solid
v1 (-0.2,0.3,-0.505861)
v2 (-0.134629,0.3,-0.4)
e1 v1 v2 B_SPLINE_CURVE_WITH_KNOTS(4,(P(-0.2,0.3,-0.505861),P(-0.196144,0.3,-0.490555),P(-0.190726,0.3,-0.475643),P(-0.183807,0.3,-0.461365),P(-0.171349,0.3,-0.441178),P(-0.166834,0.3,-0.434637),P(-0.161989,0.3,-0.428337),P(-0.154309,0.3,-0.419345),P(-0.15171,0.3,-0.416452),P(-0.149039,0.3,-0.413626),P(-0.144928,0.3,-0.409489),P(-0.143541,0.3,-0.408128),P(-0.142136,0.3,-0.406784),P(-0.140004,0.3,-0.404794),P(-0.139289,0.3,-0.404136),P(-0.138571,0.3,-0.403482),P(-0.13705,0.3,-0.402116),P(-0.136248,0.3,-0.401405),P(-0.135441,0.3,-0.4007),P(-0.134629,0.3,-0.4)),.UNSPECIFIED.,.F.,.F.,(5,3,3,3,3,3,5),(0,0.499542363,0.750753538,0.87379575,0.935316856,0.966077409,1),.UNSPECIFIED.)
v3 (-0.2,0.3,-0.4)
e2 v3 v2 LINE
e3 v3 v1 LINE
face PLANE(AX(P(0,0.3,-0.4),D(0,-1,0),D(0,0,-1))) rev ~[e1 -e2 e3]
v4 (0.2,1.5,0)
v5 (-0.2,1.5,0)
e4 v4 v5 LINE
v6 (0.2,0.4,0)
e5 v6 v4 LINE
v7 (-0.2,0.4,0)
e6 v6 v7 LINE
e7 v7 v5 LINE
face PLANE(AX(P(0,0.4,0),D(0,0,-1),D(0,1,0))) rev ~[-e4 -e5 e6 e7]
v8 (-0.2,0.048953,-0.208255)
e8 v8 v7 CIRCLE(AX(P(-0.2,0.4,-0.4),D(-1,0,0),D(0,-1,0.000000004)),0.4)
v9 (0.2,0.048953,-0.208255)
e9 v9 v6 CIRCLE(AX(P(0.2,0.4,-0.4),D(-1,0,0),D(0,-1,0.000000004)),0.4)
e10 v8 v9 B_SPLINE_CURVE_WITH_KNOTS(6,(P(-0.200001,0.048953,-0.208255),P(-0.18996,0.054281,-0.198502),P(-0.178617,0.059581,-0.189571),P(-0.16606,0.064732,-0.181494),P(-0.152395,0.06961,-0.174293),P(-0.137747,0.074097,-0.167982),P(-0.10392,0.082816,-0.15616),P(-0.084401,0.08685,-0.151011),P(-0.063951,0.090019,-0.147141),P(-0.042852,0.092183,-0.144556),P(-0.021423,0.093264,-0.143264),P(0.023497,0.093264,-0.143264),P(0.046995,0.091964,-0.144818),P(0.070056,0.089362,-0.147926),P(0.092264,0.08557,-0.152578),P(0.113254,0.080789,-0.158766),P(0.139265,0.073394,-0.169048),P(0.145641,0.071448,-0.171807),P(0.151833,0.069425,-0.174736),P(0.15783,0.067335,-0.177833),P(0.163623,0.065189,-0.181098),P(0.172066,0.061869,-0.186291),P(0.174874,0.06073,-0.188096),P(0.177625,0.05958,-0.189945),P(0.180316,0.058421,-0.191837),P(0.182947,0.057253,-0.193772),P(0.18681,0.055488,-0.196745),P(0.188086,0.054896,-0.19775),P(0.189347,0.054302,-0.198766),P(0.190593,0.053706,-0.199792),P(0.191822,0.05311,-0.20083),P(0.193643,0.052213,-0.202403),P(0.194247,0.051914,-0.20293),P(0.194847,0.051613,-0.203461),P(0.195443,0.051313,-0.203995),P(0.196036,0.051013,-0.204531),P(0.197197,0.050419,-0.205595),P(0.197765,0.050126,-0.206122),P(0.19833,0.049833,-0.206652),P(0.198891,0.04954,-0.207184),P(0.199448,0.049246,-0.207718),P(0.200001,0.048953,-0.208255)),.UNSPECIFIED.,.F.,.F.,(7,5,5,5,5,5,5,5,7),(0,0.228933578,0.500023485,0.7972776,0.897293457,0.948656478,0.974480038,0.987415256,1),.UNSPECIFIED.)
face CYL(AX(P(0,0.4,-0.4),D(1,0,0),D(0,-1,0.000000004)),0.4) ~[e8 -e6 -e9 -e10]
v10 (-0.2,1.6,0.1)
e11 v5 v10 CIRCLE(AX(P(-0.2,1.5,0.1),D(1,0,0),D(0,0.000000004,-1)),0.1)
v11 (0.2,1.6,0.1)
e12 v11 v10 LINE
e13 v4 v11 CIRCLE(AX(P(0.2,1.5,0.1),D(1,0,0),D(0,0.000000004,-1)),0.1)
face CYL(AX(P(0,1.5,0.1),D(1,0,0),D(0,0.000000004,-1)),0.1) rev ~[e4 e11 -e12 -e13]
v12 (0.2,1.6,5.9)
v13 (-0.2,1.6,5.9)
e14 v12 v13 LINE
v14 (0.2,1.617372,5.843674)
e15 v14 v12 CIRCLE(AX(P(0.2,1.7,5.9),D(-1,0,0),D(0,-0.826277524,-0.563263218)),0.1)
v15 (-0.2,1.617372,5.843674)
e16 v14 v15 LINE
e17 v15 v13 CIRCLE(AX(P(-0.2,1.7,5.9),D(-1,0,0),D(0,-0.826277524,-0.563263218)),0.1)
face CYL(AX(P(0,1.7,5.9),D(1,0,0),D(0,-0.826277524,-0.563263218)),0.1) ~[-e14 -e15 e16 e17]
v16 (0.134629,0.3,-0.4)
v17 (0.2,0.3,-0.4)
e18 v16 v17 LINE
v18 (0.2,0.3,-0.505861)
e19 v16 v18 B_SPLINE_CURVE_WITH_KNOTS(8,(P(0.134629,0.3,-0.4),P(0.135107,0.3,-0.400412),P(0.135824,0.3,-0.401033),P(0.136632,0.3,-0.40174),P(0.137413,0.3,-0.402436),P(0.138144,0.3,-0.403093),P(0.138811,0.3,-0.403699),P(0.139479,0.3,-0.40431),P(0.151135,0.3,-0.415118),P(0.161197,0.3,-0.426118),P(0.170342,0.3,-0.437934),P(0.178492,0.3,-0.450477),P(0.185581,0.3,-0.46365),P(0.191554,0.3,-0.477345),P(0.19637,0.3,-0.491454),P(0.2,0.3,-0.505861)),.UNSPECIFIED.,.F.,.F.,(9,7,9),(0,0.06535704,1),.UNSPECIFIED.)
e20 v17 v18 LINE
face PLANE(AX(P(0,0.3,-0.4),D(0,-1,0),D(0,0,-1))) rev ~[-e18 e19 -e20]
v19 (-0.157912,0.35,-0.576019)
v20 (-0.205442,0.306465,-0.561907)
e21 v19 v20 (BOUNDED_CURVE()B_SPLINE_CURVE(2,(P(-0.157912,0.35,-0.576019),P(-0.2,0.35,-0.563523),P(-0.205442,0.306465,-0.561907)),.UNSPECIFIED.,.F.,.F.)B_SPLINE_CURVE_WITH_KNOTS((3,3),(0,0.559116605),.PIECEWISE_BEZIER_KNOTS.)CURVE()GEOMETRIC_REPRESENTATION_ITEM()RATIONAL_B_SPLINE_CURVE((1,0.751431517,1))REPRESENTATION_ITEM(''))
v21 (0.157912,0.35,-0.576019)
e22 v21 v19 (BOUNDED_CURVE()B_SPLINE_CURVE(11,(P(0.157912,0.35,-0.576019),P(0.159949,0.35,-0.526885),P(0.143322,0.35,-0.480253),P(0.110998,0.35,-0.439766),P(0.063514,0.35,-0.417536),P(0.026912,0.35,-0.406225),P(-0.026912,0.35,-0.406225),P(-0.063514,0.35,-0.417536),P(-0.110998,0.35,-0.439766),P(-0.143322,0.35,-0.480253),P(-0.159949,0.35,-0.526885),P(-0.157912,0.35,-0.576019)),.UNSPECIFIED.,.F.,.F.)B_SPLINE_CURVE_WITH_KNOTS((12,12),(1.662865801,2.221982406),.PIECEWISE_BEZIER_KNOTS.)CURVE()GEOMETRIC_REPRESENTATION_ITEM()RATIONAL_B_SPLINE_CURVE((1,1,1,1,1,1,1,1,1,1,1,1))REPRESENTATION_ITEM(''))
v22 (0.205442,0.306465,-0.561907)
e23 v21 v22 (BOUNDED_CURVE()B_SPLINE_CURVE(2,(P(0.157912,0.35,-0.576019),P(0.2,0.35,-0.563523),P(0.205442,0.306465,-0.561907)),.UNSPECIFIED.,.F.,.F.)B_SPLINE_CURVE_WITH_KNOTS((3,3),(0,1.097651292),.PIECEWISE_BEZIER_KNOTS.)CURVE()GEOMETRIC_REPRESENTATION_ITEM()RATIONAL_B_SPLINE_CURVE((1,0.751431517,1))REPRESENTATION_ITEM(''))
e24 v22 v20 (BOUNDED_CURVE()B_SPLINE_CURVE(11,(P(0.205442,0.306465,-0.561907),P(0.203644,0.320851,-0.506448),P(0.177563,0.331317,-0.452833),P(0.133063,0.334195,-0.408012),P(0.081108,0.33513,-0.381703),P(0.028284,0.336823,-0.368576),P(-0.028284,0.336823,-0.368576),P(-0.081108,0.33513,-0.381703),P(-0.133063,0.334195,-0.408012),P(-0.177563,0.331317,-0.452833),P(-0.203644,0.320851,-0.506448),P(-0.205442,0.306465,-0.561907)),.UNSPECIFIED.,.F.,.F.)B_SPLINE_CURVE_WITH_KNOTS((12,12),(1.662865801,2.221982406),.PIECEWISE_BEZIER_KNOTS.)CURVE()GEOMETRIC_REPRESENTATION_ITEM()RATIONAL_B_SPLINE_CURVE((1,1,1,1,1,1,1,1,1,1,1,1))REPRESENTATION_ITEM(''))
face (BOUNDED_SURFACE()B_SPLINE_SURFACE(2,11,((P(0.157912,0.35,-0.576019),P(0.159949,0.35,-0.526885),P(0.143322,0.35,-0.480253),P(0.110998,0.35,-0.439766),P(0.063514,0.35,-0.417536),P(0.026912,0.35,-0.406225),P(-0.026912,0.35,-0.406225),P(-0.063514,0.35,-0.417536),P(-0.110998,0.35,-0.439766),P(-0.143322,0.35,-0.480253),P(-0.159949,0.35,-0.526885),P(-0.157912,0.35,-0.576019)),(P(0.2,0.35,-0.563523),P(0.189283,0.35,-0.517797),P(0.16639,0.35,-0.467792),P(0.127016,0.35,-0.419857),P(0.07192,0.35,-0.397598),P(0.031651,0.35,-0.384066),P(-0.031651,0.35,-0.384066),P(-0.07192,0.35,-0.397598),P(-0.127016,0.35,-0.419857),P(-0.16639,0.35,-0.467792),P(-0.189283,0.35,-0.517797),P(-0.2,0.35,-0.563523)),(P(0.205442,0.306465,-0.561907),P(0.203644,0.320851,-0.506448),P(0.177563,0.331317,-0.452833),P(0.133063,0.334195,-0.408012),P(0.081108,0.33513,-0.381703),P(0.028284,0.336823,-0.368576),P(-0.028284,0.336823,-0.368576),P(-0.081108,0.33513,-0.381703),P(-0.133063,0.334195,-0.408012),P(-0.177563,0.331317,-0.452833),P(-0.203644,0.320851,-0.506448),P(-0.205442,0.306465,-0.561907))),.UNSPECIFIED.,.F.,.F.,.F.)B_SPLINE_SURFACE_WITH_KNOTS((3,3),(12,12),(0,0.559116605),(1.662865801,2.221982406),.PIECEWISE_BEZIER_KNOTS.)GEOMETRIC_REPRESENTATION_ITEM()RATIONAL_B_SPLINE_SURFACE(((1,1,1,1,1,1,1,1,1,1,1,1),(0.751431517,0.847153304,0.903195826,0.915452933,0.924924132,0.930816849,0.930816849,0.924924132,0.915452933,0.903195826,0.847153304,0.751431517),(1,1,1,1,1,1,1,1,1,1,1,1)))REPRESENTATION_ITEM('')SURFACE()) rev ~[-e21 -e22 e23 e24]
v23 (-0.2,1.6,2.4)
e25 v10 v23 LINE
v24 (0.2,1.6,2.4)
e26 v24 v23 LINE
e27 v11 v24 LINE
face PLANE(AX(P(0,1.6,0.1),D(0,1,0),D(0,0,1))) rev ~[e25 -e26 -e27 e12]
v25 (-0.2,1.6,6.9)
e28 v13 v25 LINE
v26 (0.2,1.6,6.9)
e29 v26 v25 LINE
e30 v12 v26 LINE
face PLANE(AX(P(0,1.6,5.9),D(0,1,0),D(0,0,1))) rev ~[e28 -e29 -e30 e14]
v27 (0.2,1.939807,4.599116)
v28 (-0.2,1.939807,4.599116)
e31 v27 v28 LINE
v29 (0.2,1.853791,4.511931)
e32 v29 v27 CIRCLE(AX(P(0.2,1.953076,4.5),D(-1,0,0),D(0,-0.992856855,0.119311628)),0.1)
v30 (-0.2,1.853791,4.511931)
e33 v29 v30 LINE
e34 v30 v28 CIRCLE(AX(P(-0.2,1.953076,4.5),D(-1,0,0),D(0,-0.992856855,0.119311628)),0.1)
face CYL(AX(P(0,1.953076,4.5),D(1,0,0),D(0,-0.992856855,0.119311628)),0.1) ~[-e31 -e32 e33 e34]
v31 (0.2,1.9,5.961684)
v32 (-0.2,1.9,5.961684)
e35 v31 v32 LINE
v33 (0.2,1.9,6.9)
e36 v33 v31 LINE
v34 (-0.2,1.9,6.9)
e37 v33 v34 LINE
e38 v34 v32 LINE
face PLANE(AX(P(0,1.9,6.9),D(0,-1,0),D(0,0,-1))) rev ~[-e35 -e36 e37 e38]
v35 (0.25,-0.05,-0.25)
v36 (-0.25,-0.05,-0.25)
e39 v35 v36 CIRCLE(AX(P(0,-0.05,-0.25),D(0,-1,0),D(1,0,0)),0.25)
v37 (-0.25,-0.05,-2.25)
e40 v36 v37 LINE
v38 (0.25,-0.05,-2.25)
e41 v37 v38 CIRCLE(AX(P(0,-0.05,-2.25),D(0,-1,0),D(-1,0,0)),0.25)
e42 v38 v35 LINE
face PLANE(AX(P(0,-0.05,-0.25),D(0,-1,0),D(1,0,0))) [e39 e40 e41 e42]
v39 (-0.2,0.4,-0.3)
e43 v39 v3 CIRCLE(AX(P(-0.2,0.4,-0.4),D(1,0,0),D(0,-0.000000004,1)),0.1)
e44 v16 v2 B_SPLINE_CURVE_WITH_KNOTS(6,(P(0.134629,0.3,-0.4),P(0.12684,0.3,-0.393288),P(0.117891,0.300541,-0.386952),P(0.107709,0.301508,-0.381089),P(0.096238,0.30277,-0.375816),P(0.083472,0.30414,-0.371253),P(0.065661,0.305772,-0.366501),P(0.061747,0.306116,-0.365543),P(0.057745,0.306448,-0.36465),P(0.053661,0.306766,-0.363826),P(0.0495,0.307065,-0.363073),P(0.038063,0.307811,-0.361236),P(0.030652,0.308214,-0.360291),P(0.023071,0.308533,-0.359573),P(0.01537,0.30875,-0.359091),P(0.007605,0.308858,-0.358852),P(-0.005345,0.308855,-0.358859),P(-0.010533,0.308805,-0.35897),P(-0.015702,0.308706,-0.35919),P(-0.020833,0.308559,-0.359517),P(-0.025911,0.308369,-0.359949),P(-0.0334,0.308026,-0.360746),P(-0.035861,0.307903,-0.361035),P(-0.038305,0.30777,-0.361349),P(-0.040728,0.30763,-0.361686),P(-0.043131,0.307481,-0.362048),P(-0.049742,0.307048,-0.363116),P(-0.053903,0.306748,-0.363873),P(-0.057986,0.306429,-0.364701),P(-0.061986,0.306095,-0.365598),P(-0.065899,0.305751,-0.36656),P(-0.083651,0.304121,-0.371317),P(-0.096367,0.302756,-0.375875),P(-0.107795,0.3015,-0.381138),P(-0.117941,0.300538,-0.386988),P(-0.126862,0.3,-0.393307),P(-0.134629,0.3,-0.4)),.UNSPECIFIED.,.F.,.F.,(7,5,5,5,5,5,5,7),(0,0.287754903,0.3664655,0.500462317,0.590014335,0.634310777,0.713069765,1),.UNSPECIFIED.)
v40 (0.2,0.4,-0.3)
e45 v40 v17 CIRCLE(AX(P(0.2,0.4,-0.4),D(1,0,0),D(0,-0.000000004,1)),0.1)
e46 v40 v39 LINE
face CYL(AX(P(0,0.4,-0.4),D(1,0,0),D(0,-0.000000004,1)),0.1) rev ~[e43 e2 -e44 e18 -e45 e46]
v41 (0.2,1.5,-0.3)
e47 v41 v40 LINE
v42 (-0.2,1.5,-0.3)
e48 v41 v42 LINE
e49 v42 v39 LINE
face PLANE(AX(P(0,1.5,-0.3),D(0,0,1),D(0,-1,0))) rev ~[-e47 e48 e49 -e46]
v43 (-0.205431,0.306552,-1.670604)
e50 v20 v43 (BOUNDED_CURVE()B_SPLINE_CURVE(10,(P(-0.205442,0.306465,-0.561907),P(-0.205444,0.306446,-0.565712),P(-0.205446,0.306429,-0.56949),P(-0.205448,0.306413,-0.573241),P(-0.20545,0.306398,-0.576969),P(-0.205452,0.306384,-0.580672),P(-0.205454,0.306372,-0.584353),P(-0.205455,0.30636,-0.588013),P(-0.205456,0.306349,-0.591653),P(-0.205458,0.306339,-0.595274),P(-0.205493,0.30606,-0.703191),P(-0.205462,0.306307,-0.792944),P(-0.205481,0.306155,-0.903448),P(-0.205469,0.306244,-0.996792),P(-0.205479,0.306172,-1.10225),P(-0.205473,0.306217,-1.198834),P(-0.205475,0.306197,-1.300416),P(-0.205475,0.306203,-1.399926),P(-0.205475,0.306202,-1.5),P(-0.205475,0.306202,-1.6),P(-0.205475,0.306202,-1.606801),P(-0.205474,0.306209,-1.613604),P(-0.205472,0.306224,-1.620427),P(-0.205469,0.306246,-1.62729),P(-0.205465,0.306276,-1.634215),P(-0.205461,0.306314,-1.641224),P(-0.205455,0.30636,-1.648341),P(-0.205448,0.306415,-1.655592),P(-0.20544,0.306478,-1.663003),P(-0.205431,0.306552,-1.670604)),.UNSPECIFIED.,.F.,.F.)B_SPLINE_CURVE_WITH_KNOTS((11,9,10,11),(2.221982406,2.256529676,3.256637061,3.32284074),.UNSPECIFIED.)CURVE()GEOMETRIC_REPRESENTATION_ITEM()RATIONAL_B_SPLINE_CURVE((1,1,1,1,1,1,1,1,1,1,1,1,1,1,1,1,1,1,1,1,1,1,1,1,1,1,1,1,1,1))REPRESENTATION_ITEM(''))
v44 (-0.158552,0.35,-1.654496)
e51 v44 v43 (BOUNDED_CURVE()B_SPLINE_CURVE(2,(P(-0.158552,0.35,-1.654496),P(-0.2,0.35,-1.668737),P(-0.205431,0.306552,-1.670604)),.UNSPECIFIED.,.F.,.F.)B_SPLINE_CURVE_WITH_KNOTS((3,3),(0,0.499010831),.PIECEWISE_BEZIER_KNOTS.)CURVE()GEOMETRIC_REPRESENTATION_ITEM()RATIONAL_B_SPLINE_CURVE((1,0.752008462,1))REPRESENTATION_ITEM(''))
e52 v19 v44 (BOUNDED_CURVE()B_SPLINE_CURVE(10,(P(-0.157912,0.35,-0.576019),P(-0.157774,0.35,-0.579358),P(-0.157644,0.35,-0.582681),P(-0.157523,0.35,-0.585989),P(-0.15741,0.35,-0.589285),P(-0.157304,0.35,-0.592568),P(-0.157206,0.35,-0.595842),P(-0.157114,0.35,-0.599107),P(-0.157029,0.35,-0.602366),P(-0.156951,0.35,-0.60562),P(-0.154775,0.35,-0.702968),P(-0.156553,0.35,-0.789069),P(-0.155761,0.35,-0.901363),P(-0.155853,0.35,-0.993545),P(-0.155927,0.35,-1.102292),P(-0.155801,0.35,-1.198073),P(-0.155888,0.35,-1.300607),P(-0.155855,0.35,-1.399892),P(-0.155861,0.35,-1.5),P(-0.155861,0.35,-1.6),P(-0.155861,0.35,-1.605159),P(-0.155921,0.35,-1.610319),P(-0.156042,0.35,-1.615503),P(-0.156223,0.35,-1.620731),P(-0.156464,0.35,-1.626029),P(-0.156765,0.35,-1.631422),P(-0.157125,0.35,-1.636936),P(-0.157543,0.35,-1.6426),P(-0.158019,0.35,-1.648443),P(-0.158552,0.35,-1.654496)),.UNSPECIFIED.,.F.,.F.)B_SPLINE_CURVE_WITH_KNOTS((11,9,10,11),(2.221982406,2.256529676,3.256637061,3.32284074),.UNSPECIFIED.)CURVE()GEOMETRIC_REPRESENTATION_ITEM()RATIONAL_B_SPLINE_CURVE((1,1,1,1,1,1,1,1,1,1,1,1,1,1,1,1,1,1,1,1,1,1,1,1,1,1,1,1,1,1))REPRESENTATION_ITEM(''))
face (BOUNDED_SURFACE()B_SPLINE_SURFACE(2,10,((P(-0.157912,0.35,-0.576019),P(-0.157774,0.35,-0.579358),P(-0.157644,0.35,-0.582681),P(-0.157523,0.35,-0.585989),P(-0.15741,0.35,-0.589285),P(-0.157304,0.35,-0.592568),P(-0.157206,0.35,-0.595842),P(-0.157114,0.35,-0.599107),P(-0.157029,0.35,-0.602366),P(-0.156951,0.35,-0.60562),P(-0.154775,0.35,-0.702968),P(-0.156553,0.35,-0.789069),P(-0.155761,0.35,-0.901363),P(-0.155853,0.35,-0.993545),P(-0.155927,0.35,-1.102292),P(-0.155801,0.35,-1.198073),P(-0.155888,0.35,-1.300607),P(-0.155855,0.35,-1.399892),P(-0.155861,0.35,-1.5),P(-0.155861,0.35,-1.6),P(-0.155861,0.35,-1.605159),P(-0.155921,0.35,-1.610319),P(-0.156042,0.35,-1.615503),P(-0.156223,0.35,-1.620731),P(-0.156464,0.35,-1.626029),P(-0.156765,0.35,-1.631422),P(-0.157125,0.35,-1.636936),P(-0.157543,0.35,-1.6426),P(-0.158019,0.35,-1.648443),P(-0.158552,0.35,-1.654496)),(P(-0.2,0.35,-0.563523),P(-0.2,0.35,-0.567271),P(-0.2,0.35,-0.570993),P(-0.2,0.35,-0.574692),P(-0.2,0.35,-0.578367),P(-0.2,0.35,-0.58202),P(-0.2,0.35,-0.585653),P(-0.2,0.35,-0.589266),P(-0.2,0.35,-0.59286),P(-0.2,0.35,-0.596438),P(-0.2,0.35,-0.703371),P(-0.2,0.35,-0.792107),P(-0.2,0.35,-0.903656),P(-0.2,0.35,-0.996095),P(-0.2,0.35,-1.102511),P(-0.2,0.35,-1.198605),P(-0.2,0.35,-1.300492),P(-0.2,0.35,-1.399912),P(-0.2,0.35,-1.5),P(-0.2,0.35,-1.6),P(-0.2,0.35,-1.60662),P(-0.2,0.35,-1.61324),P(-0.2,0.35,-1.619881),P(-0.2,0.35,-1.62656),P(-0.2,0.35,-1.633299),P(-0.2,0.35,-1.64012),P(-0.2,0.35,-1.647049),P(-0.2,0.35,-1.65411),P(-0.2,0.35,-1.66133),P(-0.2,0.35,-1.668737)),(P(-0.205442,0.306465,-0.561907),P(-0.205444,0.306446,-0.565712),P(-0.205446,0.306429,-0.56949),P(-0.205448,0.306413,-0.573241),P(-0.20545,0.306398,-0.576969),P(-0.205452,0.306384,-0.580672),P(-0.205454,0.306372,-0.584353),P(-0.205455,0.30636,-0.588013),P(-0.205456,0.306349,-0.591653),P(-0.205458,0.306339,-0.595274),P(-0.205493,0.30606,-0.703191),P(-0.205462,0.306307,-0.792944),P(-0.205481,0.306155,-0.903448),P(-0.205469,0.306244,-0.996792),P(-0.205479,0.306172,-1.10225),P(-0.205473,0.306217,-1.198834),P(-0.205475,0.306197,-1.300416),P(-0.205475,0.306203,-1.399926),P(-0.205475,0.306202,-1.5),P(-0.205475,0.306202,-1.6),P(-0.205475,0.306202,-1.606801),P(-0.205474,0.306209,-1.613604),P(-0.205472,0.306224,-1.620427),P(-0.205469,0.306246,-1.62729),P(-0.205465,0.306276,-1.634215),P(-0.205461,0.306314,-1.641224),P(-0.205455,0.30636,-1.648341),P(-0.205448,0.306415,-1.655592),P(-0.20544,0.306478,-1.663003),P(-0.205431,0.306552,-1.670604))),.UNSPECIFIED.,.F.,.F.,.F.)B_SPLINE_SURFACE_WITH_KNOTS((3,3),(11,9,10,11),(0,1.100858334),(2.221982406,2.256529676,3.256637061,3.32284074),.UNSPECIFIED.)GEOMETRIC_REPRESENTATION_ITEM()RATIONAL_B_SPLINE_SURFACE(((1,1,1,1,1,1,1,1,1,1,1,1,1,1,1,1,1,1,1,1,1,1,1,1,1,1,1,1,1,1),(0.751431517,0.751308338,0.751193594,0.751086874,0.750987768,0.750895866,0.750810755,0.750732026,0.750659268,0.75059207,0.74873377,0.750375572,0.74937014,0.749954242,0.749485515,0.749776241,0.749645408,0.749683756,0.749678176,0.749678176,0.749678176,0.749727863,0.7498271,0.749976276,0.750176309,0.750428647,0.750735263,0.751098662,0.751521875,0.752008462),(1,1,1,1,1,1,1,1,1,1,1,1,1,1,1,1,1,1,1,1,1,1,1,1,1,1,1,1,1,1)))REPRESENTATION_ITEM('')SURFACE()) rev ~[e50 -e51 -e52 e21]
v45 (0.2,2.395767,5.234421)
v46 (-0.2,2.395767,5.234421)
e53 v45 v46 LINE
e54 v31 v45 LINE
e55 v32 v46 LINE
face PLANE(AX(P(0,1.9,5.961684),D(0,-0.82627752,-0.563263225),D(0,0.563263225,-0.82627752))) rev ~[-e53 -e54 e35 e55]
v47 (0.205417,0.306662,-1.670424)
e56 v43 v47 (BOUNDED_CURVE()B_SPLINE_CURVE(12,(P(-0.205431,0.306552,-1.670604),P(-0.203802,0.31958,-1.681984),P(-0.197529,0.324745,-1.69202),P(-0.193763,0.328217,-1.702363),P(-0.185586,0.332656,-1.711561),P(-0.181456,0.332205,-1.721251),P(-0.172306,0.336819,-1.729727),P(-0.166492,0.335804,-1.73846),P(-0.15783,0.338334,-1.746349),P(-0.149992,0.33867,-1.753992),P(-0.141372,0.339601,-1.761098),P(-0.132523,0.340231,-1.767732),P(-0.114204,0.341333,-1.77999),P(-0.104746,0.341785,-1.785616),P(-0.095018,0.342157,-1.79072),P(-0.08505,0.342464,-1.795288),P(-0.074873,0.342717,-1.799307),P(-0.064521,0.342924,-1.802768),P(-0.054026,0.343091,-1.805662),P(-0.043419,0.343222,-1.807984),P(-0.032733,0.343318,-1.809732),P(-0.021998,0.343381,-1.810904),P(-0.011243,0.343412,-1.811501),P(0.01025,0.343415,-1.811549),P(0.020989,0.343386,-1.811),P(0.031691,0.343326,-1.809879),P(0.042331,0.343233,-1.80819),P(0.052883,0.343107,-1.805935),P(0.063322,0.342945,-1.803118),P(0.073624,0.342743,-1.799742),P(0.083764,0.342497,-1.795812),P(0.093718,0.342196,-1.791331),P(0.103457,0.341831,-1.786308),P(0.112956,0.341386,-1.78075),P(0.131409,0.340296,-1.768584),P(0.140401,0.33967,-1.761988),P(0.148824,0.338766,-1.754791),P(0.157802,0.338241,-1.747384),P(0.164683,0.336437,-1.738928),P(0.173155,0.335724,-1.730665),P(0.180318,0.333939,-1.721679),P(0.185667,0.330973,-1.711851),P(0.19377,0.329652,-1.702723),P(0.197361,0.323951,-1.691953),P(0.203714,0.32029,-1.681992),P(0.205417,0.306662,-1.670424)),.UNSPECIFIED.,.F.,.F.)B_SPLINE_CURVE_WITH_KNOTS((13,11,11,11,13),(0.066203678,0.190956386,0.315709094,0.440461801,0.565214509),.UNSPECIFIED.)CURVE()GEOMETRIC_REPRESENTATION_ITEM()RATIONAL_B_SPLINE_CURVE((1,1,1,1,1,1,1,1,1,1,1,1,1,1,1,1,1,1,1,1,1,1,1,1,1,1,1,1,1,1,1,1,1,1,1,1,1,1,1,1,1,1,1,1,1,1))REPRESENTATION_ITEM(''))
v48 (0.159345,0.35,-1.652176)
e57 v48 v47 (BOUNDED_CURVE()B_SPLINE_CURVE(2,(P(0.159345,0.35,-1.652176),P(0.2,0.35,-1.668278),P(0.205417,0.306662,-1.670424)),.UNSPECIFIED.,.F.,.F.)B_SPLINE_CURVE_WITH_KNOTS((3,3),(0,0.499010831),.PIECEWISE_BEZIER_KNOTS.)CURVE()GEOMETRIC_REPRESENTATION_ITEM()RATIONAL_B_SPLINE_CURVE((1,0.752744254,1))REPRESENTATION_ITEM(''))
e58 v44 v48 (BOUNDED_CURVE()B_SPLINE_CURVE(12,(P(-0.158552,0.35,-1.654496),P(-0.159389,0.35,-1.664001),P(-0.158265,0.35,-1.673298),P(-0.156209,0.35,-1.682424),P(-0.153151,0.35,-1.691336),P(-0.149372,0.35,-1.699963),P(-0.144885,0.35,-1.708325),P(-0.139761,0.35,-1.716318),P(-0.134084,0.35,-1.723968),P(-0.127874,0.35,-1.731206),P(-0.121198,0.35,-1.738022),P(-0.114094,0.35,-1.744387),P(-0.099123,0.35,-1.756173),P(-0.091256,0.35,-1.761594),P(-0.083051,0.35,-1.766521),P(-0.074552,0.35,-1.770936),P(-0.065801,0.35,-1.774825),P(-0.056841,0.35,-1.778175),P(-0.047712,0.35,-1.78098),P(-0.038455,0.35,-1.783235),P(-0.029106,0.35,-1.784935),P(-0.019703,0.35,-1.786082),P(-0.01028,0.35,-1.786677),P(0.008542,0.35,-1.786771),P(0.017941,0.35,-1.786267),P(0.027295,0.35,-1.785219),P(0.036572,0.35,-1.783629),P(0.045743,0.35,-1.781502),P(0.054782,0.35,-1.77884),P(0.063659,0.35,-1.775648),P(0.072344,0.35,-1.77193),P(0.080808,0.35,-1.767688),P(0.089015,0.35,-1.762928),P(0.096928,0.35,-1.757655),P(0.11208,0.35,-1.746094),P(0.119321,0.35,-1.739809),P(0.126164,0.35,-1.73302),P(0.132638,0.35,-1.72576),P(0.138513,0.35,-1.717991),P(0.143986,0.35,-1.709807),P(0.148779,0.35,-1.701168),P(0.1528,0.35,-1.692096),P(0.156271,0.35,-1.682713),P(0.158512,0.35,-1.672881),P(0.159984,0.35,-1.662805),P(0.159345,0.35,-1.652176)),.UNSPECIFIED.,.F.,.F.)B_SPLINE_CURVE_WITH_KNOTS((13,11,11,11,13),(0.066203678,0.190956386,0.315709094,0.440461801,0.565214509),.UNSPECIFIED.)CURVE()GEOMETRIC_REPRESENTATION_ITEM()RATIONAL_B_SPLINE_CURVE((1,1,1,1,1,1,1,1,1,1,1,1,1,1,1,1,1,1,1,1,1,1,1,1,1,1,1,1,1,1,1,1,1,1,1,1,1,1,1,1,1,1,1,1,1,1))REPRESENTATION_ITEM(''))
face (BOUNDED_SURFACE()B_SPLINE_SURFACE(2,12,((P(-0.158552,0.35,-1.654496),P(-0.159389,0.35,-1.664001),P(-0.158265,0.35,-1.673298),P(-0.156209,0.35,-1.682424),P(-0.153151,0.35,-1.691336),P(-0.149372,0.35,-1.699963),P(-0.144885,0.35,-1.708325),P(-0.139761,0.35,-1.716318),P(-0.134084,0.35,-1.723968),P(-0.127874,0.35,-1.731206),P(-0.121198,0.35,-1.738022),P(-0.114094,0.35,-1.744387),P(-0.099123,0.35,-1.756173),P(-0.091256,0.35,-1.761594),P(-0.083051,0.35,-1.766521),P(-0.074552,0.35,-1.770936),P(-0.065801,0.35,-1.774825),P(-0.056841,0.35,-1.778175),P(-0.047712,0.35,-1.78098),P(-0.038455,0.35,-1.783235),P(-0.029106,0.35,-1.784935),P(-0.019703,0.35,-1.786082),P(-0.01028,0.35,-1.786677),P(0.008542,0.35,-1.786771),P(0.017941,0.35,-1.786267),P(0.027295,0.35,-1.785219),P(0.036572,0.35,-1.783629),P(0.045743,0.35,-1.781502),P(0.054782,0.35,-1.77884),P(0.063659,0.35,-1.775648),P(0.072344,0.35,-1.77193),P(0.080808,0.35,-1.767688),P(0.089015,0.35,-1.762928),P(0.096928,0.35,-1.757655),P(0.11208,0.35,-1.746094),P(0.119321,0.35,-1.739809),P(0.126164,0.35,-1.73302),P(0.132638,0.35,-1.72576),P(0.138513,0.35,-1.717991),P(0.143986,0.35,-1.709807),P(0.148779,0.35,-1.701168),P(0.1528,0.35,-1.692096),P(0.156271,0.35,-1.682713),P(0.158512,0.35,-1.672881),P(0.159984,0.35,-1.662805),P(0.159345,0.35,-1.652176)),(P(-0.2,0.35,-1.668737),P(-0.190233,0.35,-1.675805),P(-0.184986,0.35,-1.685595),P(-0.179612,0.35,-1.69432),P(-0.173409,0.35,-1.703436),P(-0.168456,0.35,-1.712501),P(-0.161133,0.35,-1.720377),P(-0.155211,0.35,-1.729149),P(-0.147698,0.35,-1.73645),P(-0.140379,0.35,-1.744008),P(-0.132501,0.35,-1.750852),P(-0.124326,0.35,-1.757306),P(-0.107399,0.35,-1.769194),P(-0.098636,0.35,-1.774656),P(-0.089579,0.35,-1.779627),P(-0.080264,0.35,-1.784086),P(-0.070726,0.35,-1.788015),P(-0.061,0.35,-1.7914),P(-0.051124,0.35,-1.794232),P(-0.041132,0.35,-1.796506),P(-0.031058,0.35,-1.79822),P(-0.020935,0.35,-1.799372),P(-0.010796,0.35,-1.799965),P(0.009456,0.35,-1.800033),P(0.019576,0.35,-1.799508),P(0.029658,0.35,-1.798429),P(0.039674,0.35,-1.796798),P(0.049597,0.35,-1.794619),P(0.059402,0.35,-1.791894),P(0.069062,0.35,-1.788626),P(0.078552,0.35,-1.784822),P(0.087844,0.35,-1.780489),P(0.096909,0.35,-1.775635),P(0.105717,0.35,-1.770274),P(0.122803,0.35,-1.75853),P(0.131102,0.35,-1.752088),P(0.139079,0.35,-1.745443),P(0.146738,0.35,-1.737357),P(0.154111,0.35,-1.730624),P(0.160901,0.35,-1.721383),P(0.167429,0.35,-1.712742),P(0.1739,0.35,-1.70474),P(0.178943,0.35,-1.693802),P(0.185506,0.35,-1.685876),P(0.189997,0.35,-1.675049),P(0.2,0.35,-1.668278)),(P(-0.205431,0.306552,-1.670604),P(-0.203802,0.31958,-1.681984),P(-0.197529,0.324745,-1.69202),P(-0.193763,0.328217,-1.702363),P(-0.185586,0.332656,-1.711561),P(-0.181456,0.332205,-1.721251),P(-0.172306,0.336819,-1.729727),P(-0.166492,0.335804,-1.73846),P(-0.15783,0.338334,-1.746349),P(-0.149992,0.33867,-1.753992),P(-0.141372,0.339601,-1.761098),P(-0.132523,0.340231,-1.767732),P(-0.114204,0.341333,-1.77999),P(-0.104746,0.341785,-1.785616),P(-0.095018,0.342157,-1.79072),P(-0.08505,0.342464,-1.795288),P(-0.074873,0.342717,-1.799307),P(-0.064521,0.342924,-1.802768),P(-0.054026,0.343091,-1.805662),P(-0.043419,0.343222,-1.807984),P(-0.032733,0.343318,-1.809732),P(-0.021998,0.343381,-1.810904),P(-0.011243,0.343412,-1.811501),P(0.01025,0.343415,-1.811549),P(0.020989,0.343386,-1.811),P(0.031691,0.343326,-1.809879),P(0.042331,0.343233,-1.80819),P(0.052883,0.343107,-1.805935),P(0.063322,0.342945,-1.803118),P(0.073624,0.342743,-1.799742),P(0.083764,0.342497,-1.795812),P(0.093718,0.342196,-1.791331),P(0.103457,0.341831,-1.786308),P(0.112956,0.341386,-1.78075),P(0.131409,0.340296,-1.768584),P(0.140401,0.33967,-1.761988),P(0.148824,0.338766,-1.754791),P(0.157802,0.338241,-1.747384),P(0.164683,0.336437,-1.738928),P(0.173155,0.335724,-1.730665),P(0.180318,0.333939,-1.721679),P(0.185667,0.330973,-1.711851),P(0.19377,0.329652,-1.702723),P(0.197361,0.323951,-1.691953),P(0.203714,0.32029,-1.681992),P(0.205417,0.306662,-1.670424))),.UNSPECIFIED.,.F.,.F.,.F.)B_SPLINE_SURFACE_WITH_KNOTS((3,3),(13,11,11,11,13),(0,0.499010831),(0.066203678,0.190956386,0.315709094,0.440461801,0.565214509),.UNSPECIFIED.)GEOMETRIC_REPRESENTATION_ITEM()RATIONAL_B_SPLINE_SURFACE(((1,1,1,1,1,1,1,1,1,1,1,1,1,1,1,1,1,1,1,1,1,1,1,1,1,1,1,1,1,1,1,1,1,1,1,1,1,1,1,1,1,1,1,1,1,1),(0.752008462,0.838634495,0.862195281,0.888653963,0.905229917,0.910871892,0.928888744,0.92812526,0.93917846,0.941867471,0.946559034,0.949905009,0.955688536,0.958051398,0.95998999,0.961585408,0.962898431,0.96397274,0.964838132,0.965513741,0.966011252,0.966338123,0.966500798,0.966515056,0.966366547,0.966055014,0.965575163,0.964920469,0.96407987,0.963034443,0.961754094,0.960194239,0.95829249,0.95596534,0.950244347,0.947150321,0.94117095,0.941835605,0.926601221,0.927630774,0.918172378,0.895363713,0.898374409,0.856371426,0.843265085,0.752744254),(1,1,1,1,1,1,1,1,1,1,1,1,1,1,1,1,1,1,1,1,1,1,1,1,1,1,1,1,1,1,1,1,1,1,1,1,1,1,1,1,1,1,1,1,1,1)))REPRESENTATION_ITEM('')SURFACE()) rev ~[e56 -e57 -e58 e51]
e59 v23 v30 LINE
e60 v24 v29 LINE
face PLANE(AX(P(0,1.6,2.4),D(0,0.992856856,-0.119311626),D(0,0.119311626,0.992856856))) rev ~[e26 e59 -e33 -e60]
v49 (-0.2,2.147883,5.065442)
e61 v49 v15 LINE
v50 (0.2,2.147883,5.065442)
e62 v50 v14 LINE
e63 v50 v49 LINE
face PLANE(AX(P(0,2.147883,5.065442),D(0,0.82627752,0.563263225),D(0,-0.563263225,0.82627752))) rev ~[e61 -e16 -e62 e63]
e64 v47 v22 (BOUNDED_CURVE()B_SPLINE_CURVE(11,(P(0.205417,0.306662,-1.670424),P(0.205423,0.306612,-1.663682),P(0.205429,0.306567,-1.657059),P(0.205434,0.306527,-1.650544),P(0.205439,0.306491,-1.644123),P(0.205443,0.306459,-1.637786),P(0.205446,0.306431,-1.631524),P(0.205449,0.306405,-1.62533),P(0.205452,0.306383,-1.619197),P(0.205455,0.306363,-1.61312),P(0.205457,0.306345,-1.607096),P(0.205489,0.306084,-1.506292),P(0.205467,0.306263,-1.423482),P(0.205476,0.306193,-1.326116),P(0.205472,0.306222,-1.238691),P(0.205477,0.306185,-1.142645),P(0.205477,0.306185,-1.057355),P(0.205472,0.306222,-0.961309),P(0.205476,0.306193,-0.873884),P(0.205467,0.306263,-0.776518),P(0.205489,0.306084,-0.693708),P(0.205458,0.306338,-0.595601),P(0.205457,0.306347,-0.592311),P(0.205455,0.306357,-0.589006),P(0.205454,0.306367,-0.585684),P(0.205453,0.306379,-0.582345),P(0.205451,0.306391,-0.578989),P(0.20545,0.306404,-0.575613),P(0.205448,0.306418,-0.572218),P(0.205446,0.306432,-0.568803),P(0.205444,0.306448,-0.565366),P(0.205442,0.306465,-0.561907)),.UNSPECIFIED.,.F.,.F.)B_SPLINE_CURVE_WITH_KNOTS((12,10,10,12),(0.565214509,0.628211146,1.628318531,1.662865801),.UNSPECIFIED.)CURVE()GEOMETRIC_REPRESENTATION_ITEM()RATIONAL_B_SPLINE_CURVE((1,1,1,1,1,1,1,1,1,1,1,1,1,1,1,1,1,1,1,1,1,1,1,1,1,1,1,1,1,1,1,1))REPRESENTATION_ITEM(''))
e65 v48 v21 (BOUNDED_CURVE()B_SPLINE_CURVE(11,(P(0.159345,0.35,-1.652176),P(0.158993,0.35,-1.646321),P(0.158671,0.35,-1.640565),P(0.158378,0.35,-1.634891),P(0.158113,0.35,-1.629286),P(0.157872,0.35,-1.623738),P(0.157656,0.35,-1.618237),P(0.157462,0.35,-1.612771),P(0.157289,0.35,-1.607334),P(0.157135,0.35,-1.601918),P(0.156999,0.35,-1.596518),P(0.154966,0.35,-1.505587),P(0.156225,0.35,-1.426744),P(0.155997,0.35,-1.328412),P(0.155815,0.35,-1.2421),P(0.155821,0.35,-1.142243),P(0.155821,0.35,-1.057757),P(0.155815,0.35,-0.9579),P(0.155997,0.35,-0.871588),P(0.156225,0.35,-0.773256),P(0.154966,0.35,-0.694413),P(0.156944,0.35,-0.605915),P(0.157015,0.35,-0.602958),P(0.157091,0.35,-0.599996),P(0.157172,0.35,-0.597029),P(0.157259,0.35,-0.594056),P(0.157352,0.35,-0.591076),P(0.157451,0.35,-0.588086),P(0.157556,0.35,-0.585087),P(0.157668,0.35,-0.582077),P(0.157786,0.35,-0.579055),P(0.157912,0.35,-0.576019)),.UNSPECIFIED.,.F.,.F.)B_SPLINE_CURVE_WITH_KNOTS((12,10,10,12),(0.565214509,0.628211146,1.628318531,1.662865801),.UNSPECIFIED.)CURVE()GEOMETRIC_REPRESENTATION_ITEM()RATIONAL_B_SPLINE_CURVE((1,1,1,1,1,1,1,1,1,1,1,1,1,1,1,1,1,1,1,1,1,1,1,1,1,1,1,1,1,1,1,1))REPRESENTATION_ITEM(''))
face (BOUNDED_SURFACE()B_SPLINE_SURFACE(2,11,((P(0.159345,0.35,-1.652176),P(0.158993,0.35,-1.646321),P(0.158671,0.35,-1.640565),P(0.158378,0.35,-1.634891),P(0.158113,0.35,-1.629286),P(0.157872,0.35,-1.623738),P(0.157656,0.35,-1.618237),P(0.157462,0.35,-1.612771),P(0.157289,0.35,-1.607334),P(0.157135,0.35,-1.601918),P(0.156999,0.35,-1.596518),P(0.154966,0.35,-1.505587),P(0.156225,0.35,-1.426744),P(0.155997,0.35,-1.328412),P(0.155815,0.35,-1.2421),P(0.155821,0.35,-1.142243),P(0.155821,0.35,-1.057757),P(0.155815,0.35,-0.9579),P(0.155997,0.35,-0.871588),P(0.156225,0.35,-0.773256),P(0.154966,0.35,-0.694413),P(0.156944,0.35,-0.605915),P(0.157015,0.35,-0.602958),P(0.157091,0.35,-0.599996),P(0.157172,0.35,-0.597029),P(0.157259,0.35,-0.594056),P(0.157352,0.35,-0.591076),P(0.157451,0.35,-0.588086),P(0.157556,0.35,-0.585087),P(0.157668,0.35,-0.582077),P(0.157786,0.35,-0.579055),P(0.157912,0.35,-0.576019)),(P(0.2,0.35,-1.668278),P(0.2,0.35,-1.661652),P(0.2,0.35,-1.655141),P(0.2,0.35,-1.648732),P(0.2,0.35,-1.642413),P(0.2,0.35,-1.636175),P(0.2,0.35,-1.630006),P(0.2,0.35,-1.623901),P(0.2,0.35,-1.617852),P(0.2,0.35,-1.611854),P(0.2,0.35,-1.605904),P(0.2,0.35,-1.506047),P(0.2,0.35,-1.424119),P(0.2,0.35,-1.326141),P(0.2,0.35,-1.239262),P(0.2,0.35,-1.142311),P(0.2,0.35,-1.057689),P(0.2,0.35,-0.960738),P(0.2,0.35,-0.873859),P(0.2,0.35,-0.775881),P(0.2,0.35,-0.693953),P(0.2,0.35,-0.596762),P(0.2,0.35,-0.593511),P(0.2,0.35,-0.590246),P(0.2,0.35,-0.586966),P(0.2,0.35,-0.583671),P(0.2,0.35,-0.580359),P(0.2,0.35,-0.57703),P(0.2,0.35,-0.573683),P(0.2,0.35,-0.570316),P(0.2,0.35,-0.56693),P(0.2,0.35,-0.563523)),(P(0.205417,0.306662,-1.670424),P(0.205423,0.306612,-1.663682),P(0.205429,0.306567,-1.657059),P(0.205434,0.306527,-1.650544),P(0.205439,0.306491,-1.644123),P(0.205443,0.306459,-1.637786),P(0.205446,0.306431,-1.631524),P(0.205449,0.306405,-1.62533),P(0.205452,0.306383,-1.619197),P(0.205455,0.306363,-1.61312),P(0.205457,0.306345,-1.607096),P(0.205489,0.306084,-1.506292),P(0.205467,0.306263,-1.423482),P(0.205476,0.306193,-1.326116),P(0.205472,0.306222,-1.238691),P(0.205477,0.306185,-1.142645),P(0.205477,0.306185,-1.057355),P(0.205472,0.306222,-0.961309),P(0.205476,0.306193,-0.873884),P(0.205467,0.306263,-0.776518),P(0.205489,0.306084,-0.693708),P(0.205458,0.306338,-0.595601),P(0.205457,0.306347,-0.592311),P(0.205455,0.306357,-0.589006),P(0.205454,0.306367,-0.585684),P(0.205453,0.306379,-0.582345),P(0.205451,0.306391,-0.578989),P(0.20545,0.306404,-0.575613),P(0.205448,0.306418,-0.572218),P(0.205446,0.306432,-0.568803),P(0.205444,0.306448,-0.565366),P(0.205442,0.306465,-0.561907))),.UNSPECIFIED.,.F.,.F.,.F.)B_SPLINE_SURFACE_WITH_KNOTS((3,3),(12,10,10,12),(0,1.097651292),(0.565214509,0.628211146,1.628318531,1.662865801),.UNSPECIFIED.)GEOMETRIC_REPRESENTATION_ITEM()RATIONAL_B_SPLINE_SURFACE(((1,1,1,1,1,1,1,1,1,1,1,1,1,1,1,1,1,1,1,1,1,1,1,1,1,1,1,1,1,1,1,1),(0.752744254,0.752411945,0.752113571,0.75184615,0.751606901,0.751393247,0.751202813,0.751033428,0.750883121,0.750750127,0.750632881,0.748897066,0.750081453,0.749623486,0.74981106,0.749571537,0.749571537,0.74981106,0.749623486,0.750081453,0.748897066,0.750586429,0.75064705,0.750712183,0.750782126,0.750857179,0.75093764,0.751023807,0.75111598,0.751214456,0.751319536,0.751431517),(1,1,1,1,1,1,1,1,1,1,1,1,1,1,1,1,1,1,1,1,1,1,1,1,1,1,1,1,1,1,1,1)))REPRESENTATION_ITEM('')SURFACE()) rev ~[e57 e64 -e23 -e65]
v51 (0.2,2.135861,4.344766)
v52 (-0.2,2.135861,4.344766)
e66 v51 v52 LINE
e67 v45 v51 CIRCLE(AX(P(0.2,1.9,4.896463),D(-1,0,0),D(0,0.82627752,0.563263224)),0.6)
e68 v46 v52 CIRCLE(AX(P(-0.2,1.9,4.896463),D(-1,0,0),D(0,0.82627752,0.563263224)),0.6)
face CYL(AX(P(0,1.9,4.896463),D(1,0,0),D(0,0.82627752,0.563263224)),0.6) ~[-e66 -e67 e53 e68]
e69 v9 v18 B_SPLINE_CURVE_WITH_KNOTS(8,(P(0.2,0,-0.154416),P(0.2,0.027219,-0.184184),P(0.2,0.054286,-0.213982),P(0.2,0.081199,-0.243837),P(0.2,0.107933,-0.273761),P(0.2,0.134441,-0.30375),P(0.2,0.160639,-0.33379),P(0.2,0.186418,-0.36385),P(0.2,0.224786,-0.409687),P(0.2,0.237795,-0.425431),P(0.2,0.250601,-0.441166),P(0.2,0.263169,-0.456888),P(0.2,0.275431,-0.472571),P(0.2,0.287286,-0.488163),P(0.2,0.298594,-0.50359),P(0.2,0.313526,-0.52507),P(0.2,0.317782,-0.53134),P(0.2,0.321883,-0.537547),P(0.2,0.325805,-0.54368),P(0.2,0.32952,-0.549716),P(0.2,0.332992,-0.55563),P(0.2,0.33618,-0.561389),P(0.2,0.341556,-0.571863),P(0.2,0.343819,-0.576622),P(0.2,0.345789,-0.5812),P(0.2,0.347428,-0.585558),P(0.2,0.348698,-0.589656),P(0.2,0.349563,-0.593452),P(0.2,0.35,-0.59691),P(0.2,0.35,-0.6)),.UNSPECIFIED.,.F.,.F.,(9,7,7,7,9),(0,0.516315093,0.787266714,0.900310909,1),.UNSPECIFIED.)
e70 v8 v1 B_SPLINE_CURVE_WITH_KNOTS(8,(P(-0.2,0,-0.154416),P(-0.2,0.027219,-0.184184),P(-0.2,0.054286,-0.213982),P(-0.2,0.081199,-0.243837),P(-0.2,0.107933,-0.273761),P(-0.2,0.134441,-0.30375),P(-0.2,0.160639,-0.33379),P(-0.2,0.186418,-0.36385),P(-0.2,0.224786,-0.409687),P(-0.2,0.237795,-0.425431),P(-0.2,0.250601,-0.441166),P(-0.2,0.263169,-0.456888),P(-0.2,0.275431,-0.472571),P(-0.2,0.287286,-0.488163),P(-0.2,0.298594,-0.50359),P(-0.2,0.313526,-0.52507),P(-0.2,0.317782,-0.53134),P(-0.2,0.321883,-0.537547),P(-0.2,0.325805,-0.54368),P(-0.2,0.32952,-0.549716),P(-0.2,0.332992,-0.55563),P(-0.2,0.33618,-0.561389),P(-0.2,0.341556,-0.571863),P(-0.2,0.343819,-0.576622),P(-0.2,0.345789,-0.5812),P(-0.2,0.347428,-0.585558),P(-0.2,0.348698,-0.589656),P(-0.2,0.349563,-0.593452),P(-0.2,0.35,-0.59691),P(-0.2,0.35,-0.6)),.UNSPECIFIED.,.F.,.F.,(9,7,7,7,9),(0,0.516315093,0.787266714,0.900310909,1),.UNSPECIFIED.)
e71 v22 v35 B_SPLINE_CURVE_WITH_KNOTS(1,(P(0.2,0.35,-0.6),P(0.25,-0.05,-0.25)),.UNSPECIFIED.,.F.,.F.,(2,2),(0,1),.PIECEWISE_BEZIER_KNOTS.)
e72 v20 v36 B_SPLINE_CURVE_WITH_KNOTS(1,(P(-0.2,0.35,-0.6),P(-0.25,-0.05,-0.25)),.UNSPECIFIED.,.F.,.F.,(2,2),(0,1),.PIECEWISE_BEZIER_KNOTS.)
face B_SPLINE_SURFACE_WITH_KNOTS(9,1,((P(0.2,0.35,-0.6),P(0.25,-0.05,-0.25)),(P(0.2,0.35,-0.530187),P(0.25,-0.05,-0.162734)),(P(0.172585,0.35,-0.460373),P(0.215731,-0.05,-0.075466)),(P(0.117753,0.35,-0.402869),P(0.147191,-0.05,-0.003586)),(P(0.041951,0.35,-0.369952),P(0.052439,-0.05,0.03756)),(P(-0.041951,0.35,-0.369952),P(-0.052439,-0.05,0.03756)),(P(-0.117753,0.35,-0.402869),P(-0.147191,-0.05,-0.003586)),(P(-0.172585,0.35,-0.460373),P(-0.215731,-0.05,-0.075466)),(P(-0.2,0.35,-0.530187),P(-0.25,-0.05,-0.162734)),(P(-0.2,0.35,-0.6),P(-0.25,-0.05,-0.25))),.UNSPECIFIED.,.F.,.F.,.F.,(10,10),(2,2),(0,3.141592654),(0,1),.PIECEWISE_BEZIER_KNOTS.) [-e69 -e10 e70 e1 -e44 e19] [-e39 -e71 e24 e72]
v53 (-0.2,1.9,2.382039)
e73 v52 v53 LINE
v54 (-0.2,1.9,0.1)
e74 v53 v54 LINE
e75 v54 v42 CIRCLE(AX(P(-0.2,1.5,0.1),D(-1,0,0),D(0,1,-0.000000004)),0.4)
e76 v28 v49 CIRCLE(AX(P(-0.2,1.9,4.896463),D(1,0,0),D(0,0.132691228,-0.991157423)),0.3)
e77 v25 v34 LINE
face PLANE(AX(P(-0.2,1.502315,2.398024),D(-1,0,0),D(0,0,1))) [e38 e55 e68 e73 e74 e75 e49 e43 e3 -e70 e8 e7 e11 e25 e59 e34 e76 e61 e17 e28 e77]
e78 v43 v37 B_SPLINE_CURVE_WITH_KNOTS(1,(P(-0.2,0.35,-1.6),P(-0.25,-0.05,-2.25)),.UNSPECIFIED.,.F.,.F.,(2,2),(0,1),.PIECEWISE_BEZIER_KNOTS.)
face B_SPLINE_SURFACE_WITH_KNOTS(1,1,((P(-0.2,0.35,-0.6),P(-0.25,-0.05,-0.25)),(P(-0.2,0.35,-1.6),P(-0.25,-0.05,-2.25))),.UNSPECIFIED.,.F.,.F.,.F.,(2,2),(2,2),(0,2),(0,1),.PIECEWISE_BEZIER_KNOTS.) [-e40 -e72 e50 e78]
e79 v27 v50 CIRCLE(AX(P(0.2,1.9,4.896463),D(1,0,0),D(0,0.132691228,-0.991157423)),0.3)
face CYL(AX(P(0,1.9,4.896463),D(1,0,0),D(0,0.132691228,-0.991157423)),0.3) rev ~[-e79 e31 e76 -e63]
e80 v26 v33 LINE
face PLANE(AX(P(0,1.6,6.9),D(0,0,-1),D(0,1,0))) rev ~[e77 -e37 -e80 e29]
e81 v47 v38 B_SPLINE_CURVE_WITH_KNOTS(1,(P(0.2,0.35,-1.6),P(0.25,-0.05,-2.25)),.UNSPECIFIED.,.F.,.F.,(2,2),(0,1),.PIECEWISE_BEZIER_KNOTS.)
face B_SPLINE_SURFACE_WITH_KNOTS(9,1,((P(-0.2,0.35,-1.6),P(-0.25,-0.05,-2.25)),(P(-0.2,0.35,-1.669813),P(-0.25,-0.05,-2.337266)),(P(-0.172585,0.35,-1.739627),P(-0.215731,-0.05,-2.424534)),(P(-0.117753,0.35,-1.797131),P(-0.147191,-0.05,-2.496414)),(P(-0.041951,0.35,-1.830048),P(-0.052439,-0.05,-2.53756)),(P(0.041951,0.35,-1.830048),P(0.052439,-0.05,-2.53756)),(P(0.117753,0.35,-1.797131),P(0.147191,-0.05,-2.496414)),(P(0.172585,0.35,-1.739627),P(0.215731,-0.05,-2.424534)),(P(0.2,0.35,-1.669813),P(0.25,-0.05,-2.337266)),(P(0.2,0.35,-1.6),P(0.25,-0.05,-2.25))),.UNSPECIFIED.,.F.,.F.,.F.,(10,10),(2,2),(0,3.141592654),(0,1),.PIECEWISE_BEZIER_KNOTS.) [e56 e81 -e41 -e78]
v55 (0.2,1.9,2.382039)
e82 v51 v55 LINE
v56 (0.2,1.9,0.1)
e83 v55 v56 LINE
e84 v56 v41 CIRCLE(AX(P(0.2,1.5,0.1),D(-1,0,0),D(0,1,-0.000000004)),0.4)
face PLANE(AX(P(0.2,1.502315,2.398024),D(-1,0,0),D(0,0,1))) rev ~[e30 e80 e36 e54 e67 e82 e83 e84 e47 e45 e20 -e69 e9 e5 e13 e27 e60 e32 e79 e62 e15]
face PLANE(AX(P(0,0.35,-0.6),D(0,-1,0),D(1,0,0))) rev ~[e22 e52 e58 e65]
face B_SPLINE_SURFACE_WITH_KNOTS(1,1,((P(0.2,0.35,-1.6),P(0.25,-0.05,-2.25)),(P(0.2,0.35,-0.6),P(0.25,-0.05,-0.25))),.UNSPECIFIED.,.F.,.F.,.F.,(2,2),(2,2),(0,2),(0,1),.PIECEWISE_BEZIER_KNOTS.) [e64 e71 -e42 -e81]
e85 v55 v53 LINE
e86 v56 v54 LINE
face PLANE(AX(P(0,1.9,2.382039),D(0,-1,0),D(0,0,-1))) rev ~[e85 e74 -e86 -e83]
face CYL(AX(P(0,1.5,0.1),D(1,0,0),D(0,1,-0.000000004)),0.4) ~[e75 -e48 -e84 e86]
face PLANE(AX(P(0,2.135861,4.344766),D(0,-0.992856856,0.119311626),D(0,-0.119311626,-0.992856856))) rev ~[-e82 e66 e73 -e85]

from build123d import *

# Parameters (mm, degrees)
EXTRUDE_THIN1_DEPTH = 0.2
FILLET2_R           = 0.05


with BuildPart() as part:
    # Sketch1 → Extrude-Thin1 (new body, symmetric)
    with BuildSketch(Plane(origin=(0, 0, 0), x_dir=(0, 0, -1), z_dir=(1, 0, 0))):
        with BuildLine():
            Line((1.5, 0), (0.4, 0))
            ThreePointArc((0.4, 0), (0.117157288, 0.117157288), (0, 0.4))
            Line((0, 0.4), (0, 1.5))
            ThreePointArc((0, 1.5), (-0.029289322, 1.570710678), (-0.1, 1.6))
            Line((-0.1, 1.6), (-2.4, 1.6))
            Line((-2.4, 1.6), (-4.511931163, 1.853790806))
            ThreePointArc((-4.511931163, 1.853790806), (-4.570232229, 1.88189058), (-4.599115742, 1.939807369))
            ThreePointArc((-4.599115742, 1.939807369), (-4.774219375, 2.173964421), (-5.065441937, 2.147883256))
            Line((-5.065441937, 2.147883256), (-5.843673678, 1.617372248))
            ThreePointArc((-5.843673678, 1.617372248), (-5.870527769, 1.604441706), (-5.9, 1.6))
            Line((-5.9, 1.6), (-6.9, 1.6))
            Line((-6.9, 1.6), (-6.9, 1.9))
            Line((-6.9, 1.9), (-5.961684297, 1.9))
            Line((-5.961684297, 1.9), (-5.234420904, 2.395766512))
            ThreePointArc((-5.234420904, 2.395766512), (-4.728210685, 2.475926357), (-4.344765926, 2.135860917))
            Line((-4.344765926, 2.135860917), (-2.382039107, 1.9))
            Line((-2.382039107, 1.9), (-0.1, 1.9))
            ThreePointArc((-0.1, 1.9), (0.182842712, 1.782842712), (0.3, 1.5))
            Line((0.3, 1.5), (0.3, 0.4))
            ThreePointArc((0.3, 0.4), (0.329289322, 0.329289322), (0.4, 0.3))
            Line((0.4, 0.3), (1.5, 0.3))
            Line((1.5, 0.3), (1.5, 0))
        make_face()
    extrude(amount=EXTRUDE_THIN1_DEPTH, both=True)

    # Sketch3 → Loft1 section 0
    with BuildSketch(Plane(origin=(0, 0.35, 0), x_dir=(1, 0, 0), z_dir=(0, 1, 0))):
        with BuildLine():
            Line((0.2, 1.6), (0.2, 0.6))
            ThreePointArc((0.2, 0.6), (0, 0.4), (-0.2, 0.6))
            Line((-0.2, 0.6), (-0.2, 1.6))
            ThreePointArc((-0.2, 1.6), (0, 1.8), (0.2, 1.6))
        make_face()
    # Sketch2 → Loft1 section 1
    with BuildSketch(Plane(origin=(0, -0.05, 0), x_dir=(1, 0, 0), z_dir=(0, 1, 0))):
        with BuildLine():
            Line((0.25, 2.25), (0.25, 0.25))
            ThreePointArc((0.25, 0.25), (0, 0), (-0.25, 0.25))
            Line((-0.25, 0.25), (-0.25, 2.25))
            ThreePointArc((-0.25, 2.25), (0, 2.5), (0.25, 2.25))
        make_face()
    loft()

    # Fillet2
    fillet2_edges = [part.edges().sort_by_distance(p)[0] for p in [
        (0, 0.35, -1.8),
        (-0.2, 0.35, -1.1),
        (0, 0.35, -0.4),
        (0.2, 0.35, -1.1),
    ]]
    fillet(fillet2_edges, radius=FILLET2_R)


solid = part.part
